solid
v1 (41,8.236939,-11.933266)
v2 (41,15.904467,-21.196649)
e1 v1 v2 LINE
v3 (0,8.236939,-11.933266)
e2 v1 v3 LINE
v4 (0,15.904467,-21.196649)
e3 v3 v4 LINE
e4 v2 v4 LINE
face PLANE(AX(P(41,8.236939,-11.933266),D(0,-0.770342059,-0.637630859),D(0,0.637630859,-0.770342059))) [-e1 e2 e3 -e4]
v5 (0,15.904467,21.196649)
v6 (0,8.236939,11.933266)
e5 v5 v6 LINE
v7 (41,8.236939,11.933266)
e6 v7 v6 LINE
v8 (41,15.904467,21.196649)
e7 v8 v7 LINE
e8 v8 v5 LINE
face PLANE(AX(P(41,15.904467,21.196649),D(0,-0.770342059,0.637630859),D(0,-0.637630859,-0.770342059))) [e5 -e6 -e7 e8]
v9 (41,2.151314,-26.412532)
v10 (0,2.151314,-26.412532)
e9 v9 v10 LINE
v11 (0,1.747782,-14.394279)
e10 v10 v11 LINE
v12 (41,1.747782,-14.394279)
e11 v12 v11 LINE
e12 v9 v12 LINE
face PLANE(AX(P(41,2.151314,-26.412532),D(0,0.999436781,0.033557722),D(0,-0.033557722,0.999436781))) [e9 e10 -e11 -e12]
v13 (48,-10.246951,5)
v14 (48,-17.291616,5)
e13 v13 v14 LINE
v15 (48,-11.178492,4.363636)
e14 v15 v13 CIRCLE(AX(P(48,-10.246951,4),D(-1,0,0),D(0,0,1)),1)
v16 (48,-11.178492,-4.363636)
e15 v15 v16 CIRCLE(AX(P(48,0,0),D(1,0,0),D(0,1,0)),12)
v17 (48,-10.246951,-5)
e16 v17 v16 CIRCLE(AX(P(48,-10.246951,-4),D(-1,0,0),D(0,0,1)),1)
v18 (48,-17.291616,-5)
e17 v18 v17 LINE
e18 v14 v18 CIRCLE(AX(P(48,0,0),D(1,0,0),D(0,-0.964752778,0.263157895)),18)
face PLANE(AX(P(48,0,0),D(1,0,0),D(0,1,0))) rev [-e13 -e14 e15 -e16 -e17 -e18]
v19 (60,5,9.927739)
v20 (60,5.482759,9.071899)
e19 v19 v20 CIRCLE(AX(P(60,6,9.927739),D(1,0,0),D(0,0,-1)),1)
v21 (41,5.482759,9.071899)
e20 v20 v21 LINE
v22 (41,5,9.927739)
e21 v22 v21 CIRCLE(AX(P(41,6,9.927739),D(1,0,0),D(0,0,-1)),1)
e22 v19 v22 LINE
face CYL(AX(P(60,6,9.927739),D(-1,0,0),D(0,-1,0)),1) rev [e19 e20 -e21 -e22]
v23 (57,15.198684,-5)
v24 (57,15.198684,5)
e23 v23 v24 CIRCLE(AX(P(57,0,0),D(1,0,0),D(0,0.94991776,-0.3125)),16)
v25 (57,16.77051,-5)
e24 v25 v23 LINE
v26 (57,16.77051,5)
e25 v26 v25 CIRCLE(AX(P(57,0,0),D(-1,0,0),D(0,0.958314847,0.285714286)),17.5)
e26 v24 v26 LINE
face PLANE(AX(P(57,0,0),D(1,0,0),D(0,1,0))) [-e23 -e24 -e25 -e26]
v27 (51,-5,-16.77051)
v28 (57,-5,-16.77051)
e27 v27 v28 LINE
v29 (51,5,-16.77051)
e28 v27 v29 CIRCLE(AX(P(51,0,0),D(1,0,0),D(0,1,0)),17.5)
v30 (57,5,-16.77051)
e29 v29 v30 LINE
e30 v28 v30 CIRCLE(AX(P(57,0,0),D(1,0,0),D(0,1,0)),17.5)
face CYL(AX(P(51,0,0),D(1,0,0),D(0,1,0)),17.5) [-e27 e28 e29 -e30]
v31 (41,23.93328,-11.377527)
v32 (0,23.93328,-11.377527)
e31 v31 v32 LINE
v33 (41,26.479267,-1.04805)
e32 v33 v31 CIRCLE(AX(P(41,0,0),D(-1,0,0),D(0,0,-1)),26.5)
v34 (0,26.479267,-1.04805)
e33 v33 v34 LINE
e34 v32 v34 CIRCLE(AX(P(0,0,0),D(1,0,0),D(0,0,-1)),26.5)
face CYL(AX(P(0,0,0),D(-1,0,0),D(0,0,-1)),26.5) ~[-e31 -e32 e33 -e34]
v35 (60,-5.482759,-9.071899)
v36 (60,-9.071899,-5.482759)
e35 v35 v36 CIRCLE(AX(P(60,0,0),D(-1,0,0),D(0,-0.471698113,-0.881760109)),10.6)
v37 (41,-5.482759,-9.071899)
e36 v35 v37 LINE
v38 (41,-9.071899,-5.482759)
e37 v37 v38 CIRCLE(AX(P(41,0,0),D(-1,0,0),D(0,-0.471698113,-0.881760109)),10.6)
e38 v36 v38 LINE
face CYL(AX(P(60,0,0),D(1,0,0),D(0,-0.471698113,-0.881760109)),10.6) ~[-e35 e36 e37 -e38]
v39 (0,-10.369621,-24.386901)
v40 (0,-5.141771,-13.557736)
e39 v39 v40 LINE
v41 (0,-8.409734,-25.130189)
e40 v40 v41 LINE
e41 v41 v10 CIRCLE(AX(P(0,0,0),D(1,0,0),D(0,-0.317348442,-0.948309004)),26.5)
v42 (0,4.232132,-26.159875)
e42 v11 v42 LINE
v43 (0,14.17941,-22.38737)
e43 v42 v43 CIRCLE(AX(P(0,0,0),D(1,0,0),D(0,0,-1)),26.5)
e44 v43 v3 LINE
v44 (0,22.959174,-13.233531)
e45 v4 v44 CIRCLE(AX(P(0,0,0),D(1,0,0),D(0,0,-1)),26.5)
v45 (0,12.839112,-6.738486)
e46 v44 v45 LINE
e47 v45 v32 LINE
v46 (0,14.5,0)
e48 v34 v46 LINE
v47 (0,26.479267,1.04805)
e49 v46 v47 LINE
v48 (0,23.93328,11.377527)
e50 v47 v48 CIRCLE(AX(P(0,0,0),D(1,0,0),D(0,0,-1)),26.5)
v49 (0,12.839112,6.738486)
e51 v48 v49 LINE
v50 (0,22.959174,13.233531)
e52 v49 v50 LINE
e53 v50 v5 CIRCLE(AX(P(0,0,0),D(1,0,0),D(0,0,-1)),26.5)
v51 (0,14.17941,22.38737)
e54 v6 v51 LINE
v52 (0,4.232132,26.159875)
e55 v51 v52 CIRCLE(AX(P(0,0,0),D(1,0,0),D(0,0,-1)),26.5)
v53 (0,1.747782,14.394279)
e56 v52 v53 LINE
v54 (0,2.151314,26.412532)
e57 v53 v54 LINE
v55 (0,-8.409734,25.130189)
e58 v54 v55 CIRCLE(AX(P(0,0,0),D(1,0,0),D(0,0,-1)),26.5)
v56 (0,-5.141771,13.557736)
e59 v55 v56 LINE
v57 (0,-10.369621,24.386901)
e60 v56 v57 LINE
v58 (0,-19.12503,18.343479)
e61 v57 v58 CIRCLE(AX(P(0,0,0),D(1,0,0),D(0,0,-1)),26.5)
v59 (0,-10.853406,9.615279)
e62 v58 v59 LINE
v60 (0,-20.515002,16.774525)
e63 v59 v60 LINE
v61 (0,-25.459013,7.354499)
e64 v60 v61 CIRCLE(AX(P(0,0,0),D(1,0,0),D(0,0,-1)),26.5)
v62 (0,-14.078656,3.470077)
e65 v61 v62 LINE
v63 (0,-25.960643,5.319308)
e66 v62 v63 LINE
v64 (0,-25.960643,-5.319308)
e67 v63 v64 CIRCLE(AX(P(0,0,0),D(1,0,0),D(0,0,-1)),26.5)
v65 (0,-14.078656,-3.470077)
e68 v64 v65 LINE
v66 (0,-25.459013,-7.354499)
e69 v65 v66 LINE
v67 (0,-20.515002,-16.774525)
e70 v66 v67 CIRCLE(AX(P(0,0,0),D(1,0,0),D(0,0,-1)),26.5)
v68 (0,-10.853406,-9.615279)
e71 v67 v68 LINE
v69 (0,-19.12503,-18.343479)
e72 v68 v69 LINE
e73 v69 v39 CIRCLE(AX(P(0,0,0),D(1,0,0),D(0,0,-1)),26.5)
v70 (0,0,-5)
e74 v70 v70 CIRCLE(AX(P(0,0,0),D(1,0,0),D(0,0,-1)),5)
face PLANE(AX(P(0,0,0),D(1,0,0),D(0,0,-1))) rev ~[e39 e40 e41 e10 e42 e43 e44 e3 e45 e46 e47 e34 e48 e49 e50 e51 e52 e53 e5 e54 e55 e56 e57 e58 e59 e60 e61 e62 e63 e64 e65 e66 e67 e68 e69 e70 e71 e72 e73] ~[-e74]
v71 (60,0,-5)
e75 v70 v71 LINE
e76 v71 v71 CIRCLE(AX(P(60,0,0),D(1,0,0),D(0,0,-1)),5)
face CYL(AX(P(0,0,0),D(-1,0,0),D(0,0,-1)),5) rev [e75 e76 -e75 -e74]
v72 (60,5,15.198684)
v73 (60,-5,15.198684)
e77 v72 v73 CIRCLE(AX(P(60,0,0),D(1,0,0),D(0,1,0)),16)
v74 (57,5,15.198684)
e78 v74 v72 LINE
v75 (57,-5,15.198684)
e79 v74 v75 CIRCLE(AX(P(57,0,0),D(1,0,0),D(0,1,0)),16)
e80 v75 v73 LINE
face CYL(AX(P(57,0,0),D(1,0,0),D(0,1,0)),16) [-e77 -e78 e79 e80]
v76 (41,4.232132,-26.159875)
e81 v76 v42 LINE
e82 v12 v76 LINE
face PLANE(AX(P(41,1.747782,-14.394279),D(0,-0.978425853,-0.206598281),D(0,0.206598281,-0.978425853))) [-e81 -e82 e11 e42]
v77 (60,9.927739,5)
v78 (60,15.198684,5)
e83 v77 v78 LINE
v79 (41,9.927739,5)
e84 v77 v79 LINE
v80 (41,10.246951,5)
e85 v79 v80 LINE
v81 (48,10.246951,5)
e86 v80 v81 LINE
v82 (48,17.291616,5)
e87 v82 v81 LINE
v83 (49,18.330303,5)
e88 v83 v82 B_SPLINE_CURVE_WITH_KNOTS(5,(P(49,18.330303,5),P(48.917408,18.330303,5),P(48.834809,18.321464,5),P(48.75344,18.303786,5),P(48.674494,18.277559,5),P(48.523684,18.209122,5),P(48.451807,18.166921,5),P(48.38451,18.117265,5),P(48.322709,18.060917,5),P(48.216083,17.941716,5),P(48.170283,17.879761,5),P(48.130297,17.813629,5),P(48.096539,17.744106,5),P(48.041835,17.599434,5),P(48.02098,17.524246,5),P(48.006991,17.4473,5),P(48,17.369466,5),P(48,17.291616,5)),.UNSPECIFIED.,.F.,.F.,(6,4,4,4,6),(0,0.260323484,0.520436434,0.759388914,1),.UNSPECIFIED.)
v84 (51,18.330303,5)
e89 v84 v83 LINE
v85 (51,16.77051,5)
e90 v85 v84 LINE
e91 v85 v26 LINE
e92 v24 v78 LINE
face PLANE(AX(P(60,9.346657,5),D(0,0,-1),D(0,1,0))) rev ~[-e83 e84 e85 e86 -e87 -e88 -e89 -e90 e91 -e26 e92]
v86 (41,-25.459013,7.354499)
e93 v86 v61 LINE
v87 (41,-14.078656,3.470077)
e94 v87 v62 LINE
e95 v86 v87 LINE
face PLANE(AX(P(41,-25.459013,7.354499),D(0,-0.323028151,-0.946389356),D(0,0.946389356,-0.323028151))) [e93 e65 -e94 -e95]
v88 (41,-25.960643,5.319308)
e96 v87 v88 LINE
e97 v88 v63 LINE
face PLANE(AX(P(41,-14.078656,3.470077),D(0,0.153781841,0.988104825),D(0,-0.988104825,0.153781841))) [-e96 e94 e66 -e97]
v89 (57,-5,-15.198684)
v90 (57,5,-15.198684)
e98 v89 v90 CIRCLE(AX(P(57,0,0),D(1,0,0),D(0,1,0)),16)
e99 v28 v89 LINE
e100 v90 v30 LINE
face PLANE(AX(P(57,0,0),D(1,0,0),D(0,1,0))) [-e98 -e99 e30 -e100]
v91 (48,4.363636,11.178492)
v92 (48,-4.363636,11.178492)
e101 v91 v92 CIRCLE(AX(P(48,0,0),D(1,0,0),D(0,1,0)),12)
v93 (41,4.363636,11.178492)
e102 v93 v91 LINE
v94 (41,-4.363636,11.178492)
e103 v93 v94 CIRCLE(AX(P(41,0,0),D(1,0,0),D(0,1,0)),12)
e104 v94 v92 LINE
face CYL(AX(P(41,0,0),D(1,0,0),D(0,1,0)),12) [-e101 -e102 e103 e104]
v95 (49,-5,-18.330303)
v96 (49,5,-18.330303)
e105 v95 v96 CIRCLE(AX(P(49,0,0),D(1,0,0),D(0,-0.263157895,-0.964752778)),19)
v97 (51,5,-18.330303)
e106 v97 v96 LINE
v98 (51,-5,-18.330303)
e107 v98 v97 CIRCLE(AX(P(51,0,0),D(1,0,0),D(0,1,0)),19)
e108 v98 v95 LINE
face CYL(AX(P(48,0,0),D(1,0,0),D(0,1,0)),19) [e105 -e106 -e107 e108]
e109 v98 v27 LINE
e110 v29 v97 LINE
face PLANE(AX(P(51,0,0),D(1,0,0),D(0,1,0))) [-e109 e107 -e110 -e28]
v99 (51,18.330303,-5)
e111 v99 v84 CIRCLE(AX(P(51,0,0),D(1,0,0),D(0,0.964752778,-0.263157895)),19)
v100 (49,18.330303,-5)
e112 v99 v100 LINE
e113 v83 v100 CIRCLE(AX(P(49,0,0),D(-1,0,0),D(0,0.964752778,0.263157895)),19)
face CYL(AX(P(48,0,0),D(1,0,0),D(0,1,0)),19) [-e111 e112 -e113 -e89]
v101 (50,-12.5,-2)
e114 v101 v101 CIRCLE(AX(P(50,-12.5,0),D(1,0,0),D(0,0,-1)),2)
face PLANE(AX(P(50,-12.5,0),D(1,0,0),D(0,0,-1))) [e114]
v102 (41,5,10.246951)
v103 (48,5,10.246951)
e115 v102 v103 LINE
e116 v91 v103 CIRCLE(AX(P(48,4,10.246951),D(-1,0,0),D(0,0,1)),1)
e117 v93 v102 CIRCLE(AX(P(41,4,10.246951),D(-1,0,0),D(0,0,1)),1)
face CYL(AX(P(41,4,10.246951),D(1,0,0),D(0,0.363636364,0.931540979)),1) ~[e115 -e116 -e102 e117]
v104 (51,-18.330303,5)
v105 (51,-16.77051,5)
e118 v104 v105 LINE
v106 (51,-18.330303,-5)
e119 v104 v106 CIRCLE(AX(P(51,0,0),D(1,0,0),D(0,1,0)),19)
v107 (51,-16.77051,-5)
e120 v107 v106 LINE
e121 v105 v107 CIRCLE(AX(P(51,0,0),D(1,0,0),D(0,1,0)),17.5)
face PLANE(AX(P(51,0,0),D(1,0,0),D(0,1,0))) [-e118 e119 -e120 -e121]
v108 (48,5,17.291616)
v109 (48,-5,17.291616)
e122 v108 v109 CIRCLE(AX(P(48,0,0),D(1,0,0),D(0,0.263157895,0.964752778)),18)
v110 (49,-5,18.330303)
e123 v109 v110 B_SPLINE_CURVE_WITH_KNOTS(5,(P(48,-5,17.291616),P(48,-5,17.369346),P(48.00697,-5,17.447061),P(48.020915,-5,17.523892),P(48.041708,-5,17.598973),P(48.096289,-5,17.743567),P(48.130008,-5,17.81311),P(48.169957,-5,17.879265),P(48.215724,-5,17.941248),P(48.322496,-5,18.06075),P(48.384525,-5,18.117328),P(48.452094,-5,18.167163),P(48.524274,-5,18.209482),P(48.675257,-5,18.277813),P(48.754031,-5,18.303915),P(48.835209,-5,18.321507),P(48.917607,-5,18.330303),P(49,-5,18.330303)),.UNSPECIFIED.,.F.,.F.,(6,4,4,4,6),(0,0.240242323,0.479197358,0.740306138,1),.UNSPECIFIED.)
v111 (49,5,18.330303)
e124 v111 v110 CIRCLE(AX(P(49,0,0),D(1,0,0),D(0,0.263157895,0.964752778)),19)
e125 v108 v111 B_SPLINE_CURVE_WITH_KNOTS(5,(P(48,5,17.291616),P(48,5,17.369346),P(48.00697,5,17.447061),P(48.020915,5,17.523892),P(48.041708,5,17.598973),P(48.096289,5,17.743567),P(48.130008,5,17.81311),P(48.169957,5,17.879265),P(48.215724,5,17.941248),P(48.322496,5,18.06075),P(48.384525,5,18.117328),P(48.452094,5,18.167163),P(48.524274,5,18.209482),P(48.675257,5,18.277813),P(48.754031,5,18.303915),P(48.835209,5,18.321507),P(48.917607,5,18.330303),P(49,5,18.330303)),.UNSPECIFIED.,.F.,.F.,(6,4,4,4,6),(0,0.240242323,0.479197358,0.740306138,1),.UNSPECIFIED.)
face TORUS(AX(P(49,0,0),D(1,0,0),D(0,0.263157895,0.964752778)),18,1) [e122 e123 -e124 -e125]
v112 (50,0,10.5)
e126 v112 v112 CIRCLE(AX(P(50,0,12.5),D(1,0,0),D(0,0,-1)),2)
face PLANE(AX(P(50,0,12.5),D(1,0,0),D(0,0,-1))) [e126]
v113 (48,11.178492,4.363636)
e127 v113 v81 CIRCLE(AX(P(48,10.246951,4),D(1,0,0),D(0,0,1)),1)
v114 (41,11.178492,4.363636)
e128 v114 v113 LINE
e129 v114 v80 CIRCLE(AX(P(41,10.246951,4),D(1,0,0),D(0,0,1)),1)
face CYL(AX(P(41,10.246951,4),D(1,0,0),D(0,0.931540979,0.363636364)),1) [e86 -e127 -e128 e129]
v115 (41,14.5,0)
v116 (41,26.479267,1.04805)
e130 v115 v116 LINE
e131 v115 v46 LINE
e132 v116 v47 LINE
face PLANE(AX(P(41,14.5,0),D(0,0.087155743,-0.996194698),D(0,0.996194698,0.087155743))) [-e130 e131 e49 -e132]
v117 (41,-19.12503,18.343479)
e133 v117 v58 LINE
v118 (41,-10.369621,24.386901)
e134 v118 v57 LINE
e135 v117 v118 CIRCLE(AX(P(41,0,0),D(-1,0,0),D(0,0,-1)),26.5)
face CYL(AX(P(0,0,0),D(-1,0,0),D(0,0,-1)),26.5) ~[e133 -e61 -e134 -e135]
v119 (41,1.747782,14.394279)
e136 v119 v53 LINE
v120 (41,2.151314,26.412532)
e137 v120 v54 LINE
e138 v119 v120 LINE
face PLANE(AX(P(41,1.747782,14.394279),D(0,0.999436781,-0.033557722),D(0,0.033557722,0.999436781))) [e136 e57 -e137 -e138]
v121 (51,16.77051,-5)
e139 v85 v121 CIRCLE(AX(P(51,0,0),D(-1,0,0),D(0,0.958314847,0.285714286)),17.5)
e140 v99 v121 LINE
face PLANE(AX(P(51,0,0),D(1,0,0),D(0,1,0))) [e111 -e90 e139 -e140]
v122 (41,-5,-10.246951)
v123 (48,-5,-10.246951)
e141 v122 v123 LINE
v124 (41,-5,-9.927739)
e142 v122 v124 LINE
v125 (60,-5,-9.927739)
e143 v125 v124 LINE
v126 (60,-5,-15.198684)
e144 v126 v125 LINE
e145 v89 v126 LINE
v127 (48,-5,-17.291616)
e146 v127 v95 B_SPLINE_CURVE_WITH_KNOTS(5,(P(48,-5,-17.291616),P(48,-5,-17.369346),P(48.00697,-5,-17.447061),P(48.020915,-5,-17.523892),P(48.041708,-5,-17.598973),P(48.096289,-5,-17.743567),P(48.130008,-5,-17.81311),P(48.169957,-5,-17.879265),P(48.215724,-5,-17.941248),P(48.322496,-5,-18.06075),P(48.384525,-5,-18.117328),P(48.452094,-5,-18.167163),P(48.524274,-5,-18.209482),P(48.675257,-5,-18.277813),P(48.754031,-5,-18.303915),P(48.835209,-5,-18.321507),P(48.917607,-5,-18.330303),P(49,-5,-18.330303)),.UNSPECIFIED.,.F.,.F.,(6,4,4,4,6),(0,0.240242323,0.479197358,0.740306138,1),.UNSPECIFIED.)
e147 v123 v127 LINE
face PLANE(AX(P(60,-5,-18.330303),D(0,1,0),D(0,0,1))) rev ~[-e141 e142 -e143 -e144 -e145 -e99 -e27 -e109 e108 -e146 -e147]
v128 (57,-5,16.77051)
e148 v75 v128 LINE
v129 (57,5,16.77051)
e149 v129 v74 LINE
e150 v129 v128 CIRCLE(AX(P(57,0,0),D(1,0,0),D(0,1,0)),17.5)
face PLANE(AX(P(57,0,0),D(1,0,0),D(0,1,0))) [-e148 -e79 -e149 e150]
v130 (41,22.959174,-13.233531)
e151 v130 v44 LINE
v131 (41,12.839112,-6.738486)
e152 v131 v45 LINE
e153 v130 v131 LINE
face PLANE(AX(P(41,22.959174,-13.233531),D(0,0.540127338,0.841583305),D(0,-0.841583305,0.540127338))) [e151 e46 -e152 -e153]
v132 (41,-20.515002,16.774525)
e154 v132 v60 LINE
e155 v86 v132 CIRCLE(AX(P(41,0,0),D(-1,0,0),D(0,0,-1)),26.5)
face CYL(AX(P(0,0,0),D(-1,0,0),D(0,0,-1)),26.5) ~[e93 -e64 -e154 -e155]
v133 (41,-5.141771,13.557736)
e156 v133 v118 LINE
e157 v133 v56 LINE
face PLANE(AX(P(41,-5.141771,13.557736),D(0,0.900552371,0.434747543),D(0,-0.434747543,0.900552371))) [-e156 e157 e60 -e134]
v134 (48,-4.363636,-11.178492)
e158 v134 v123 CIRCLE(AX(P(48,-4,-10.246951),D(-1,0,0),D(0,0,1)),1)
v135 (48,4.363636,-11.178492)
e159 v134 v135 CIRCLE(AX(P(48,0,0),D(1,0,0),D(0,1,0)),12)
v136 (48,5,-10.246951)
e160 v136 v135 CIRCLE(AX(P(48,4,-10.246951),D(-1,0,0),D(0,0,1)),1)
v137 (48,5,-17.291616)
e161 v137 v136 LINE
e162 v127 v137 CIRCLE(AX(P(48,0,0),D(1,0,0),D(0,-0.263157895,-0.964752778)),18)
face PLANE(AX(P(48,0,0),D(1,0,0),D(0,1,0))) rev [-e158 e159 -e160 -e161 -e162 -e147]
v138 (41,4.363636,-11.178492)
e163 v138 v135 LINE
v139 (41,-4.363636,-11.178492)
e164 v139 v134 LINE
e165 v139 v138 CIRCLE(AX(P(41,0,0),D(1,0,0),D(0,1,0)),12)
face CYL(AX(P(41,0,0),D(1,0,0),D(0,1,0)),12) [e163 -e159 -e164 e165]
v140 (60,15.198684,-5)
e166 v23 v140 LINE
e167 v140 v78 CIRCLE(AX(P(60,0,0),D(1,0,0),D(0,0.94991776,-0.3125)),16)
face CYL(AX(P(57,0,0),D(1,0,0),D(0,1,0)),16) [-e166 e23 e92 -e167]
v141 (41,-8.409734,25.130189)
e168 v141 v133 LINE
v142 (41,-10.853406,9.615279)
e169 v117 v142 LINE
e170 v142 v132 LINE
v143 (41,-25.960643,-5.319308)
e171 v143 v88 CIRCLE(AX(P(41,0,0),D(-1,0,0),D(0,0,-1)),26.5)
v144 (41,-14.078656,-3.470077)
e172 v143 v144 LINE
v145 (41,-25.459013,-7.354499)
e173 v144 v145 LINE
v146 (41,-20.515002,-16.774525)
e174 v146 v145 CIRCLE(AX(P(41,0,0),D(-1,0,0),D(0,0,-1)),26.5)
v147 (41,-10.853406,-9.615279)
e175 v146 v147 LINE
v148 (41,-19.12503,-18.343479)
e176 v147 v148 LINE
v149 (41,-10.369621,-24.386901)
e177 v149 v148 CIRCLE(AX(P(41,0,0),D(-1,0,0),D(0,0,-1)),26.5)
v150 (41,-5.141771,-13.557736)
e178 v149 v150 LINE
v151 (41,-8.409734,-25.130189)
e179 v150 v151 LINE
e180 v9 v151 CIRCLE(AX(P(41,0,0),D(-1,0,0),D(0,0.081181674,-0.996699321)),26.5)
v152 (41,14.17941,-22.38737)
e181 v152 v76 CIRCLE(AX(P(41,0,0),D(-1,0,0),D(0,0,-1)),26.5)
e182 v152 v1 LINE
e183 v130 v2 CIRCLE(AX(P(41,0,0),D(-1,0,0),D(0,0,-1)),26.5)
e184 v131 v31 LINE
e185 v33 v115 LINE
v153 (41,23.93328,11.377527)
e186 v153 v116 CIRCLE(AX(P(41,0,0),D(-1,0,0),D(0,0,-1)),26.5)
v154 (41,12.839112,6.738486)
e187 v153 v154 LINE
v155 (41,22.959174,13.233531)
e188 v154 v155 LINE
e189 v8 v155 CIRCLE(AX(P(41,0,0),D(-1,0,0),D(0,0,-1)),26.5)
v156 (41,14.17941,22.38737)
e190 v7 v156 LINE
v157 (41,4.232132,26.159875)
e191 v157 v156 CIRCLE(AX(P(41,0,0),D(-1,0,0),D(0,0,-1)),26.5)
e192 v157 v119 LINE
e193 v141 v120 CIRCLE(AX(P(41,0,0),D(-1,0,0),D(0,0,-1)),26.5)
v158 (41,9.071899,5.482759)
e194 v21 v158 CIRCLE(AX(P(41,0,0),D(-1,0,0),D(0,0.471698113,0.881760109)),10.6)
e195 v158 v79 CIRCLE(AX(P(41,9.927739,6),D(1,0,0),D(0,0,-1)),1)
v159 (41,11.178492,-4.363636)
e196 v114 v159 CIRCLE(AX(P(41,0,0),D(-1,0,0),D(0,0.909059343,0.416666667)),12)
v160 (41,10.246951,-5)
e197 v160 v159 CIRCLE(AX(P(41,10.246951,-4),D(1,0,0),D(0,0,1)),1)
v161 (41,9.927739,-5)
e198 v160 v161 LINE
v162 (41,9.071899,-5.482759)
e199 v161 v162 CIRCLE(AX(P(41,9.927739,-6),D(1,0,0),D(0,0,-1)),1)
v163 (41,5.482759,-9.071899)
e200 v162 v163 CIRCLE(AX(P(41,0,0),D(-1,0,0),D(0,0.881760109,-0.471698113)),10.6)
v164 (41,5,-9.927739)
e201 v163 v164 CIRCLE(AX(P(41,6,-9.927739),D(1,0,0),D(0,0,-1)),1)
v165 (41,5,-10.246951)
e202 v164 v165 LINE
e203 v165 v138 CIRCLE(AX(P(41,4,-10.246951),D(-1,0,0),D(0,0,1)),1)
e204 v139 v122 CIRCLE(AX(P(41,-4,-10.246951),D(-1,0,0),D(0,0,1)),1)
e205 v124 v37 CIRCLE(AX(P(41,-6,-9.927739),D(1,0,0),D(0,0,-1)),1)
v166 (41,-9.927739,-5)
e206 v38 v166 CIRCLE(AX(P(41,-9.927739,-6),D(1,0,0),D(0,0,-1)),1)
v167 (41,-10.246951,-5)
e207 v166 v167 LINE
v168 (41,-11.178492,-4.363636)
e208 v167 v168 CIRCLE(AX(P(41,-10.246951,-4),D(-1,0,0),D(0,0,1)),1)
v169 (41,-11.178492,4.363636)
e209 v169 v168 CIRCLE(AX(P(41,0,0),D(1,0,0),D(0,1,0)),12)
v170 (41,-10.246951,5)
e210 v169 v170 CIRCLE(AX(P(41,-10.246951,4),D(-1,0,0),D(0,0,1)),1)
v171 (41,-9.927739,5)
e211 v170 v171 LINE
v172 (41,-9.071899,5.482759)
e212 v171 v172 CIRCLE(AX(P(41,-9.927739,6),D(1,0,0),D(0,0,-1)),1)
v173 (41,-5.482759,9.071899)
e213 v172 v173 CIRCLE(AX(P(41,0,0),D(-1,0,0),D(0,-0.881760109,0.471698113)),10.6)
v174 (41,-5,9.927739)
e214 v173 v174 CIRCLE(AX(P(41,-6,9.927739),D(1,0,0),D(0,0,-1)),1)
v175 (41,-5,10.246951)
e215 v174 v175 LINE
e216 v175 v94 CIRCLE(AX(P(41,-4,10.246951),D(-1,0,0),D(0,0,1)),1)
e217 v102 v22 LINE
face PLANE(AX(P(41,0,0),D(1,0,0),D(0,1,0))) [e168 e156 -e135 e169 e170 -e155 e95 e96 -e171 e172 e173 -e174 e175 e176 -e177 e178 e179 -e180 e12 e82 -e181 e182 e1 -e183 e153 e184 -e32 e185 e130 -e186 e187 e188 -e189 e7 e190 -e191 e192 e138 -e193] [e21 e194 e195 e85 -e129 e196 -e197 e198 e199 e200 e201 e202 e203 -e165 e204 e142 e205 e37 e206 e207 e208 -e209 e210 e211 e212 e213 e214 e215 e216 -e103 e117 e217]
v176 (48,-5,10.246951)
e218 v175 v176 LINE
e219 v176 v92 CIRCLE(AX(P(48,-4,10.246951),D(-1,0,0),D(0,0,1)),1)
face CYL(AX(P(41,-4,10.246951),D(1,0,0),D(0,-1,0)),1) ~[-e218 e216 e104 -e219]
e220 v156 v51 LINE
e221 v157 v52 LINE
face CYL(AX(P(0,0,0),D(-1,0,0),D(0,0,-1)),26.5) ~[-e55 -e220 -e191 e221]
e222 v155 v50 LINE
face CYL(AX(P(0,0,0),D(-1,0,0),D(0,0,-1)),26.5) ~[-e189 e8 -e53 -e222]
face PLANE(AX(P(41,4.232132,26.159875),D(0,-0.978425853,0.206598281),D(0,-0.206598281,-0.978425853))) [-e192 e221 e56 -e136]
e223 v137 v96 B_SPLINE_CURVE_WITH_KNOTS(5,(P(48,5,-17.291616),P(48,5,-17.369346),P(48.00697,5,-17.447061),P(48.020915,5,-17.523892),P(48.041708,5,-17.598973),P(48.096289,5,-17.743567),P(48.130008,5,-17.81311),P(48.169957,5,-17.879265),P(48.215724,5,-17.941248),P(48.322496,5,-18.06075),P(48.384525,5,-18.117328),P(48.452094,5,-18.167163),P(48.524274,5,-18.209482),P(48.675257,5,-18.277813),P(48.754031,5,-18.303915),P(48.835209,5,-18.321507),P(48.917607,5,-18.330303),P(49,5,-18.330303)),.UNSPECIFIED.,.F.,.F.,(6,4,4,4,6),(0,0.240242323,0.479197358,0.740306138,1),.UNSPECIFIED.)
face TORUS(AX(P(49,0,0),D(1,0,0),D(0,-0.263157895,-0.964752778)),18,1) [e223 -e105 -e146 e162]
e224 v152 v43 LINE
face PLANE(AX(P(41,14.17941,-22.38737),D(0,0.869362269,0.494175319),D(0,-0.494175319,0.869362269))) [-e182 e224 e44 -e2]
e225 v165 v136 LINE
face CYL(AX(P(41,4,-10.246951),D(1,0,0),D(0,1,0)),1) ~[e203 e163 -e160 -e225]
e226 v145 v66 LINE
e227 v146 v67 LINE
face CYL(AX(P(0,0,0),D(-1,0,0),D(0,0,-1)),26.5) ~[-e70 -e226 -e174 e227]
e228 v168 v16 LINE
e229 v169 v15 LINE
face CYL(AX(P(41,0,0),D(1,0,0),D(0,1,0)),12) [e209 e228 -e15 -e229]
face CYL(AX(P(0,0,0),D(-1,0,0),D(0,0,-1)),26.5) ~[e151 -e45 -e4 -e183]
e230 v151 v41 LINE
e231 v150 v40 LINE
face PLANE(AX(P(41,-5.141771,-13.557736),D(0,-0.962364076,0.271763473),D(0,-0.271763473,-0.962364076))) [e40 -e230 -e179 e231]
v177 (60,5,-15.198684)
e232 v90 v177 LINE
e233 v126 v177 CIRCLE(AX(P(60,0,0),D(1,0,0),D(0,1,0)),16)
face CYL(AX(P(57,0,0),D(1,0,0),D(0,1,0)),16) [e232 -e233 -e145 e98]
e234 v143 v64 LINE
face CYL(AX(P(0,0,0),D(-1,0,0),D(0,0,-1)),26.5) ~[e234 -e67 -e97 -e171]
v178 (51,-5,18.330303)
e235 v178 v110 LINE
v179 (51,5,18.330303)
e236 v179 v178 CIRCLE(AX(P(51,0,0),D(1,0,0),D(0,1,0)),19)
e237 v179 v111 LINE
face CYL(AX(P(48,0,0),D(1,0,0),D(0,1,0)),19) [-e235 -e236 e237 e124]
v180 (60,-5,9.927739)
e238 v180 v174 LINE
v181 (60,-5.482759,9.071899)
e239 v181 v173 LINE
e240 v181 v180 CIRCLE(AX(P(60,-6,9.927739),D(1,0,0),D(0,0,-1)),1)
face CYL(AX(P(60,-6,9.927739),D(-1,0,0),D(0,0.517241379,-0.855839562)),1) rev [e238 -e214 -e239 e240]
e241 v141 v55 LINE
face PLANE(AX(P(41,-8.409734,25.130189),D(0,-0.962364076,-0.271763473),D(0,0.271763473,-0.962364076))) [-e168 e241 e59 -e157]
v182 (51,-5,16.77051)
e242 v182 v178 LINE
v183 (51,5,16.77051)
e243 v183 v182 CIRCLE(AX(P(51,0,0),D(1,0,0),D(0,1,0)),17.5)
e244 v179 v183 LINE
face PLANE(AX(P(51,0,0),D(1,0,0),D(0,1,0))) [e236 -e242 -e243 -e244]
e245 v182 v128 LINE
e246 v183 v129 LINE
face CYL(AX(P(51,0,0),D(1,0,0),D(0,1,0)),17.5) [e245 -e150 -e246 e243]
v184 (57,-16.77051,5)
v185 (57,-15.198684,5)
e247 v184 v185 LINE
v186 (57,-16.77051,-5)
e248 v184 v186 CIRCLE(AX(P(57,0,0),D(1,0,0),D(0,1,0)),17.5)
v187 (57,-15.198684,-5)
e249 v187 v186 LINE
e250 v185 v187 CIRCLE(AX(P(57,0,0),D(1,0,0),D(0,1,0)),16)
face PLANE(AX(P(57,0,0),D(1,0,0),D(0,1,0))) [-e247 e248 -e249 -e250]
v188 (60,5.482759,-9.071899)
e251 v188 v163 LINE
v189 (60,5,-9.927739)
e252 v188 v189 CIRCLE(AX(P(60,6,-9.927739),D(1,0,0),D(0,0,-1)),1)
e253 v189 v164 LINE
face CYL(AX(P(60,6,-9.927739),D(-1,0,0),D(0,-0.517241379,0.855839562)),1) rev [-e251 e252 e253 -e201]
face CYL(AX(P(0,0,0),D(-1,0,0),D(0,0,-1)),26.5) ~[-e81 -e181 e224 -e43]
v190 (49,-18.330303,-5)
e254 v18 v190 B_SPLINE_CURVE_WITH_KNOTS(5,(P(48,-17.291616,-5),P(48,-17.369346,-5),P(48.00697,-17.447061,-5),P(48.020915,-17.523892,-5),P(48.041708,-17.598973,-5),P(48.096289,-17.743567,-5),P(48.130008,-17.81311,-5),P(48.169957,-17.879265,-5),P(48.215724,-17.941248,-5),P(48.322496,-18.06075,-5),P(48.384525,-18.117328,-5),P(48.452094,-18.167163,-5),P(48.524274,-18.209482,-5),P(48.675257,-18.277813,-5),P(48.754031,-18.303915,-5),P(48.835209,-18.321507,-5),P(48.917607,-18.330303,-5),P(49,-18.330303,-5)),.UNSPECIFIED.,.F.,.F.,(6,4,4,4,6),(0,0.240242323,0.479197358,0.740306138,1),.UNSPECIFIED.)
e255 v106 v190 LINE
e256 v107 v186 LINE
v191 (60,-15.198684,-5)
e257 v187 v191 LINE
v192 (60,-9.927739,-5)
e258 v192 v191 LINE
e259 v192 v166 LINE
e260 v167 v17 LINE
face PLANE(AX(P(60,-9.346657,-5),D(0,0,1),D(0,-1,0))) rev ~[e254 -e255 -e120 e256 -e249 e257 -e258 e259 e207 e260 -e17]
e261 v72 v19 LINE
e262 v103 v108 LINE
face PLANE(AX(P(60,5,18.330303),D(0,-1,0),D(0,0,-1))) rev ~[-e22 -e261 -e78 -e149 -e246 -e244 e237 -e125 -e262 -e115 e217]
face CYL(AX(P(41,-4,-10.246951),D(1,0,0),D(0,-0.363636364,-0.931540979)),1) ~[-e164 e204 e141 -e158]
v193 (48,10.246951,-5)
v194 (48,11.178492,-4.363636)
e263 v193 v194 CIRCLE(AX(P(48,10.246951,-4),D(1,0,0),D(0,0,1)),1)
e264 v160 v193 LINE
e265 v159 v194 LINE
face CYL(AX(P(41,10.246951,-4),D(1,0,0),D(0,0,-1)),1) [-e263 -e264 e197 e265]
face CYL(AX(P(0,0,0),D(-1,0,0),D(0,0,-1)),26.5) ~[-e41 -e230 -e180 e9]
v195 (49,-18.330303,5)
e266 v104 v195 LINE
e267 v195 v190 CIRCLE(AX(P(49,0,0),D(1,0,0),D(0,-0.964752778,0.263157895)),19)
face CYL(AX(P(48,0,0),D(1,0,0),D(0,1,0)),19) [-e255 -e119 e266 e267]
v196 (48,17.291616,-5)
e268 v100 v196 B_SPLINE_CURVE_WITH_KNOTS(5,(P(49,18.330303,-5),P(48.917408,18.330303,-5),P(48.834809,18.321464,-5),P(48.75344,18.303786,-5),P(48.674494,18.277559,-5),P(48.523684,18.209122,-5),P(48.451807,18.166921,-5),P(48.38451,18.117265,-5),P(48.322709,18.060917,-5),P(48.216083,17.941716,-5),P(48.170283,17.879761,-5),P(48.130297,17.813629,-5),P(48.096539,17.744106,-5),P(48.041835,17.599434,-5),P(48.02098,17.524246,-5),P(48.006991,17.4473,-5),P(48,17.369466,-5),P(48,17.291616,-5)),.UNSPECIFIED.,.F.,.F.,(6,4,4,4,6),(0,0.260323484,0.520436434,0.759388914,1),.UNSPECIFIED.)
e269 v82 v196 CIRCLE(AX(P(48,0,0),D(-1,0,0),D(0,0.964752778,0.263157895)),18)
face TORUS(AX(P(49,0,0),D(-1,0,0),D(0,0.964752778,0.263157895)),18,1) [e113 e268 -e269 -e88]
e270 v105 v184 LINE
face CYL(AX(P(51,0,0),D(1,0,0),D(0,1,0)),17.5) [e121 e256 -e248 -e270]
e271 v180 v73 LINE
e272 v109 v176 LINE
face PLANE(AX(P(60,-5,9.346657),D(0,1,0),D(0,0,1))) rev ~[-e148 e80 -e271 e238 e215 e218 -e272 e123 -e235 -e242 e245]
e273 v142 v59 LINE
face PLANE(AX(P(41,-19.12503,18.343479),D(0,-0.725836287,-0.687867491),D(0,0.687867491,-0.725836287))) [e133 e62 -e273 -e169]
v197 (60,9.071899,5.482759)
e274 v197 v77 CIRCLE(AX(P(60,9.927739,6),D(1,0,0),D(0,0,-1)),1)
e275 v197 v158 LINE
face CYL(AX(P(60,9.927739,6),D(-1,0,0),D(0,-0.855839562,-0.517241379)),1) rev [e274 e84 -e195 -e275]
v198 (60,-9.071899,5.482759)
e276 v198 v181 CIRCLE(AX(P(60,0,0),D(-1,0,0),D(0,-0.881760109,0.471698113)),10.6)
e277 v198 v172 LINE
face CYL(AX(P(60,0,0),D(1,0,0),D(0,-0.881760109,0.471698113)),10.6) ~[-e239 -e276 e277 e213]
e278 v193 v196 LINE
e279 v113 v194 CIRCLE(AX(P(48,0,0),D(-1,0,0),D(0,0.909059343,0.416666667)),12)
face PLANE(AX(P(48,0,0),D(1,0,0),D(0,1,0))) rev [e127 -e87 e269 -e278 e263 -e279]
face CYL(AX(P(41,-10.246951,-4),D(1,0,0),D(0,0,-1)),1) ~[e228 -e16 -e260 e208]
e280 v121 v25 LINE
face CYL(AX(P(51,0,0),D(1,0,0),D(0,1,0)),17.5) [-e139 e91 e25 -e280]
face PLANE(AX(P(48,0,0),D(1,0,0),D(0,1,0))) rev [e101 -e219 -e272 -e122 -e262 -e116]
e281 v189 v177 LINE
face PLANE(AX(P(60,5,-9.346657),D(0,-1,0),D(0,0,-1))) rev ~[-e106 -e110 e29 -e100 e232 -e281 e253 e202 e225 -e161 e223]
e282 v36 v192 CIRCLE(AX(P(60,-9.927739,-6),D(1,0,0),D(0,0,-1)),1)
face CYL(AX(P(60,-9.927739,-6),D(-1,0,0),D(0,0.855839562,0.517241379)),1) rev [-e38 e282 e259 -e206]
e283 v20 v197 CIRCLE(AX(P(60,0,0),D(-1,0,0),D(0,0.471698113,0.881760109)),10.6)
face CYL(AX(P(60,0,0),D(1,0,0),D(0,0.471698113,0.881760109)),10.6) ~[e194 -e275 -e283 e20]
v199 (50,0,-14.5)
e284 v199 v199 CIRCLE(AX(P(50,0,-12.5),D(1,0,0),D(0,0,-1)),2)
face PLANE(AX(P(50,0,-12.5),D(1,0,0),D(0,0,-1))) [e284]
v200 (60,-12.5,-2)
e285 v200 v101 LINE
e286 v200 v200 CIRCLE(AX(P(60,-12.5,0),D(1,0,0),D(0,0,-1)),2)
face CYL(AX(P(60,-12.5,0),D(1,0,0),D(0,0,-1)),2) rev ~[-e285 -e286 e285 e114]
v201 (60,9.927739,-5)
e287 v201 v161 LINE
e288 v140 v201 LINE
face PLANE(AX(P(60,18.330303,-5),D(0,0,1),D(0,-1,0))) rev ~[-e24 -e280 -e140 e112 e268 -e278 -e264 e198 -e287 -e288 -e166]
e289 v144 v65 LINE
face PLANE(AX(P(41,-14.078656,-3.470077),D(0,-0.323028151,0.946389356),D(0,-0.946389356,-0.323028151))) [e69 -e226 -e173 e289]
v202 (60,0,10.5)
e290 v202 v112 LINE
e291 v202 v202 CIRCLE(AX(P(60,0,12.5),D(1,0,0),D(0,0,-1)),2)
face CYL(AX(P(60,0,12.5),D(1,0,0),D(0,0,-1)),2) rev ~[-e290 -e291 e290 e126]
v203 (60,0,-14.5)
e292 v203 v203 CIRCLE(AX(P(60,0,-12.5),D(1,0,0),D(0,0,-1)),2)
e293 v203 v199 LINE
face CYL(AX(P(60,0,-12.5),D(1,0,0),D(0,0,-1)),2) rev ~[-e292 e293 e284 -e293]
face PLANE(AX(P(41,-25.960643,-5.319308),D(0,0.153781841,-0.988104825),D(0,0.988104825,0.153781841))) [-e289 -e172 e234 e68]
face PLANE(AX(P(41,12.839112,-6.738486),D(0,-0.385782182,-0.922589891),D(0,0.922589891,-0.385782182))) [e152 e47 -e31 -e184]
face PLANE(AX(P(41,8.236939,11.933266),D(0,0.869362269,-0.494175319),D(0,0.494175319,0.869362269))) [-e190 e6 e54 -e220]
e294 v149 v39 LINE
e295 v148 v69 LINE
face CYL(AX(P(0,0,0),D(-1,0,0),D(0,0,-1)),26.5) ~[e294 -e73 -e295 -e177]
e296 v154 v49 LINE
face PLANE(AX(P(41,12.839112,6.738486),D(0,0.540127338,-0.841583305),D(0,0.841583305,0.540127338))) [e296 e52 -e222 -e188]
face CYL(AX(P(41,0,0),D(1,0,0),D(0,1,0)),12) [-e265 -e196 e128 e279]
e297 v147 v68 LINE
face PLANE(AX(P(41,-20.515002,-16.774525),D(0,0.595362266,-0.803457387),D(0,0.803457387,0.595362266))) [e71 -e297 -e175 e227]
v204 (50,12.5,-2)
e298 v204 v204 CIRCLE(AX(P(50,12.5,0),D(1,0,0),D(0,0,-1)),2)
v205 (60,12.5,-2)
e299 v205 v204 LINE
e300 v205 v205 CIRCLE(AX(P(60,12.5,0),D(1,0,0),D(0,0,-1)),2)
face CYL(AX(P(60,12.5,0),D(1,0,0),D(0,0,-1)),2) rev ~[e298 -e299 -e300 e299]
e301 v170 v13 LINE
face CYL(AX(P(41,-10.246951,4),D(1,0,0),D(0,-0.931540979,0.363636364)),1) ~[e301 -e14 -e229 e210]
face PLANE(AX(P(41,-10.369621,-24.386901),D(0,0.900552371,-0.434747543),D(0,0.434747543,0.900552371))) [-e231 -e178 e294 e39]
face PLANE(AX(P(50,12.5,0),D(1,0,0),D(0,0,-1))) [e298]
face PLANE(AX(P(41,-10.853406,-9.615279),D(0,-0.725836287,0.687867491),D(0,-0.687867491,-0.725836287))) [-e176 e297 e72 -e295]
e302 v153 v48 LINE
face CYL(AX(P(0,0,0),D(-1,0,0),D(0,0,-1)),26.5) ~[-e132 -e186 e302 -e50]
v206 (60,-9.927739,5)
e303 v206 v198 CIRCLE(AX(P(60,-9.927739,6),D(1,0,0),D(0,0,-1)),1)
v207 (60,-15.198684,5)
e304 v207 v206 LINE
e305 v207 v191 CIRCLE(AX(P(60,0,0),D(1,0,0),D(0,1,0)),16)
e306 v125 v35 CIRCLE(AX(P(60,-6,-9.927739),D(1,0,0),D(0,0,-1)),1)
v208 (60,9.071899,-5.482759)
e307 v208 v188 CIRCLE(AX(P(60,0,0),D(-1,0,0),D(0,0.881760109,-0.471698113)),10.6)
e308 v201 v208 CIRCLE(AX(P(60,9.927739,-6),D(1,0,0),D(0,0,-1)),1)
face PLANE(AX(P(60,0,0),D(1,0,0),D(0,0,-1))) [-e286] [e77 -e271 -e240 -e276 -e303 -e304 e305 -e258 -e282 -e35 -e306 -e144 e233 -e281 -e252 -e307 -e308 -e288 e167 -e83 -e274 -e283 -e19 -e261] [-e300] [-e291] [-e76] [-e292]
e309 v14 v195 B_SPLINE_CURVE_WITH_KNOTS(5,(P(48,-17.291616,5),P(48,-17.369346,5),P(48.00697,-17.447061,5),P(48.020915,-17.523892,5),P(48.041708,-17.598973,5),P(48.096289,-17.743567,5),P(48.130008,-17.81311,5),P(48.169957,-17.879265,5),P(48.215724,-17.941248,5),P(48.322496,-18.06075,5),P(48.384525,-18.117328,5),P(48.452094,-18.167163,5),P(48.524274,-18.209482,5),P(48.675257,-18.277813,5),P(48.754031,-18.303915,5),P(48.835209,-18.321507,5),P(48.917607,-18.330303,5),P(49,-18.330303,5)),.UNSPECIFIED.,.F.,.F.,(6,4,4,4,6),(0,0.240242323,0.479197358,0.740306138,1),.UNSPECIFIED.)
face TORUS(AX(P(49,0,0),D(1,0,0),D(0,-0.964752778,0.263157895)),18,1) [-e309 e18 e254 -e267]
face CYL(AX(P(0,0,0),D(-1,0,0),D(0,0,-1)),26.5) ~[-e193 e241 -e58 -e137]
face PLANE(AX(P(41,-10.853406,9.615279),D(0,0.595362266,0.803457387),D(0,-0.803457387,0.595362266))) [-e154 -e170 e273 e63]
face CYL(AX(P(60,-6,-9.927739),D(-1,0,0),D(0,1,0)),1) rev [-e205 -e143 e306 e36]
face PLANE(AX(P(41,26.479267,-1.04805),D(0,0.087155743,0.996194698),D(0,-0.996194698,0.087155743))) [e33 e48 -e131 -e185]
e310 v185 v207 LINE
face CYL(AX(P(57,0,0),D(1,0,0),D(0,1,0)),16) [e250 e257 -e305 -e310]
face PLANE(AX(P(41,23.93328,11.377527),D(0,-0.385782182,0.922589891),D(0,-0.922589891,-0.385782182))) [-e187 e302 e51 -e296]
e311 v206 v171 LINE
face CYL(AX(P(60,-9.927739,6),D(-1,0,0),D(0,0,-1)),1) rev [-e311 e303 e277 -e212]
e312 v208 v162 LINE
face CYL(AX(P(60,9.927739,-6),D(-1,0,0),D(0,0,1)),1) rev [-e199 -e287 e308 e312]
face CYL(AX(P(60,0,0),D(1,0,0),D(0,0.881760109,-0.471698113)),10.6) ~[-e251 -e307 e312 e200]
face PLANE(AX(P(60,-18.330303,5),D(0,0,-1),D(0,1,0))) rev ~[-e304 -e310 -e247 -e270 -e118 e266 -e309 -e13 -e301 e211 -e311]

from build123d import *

# Parameters (mm, degrees)
SKETCH1_R      = 26.5
SKETCH1_R_2    = 5
EXTRUDE1_DEPTH = 60
SKETCH3_R      = 2
EXTRUDE2_DEPTH = 10
EXTRUDE3_START = -41
EXTRUDE3_DEPTH = 41
EXTRUDE4_DEPTH = 19
FILLET1_R      = 1


with BuildPart() as part:
    # Sketch1 → Extrude1 (new body)
    with BuildSketch(Plane(origin=(0, 0, 0), x_dir=(0, 0, -1), z_dir=(1, 0, 0))):
        Circle(SKETCH1_R)
        Circle(SKETCH1_R_2, mode=Mode.SUBTRACT)
    extrude(amount=EXTRUDE1_DEPTH)

    # Sketch2 → Cut-Revolve1 (revolve, cut)
    with BuildSketch(Plane.XY):
        Polygon((60, 16), (60, 26.5), (41, 26.5), (41, 12), (48, 12), (48, 19), (51, 19), (51, 17.5), (57, 17.5), (57, 16), align=None)
    revolve(axis=Axis((0, 0, 0), (1, 0, 0)), mode=Mode.SUBTRACT)

    # Sketch3 → Extrude2 (cut)
    with BuildSketch(Plane(origin=(60, 0, 0), x_dir=(0, 0, -1), z_dir=(1, 0, 0))):
        with Locations((0, 12.5)):
            Circle(SKETCH3_R)
        with Locations((12.5, 0)):
            Circle(SKETCH3_R)
        with Locations((0, -12.5)):
            Circle(SKETCH3_R)
        with Locations((-12.5, 0)):
            Circle(SKETCH3_R)
    extrude(amount=-EXTRUDE2_DEPTH, mode=Mode.SUBTRACT)

    # Sketch4 → Extrude3 (cut)
    with BuildSketch(Plane.ZY.offset(EXTRUDE3_START)):
        with BuildLine():
            Line((0, 14.5), (1.048050077, 26.479267192))
            ThreePointArc((1.048050077, 26.479267192), (0, 26.5), (-1.048050077, 26.479267192))
            Line((-1.048050077, 26.479267192), (0, 14.5))
        make_face()
        with BuildLine():
            Line((11.377526787, 23.933279846), (6.738485995, 12.839112372))
            Line((6.738485995, 12.839112372), (13.233531299, 22.959173534))
            ThreePointArc((13.233531299, 22.959173534), (12.315164059, 23.46458468), (11.377526787, 23.933279846))
        make_face()
        with BuildLine():
            Line((-6.738485995, 12.839112372), (-11.377526787, 23.933279846))
            ThreePointArc((-11.377526787, 23.933279846), (-12.315164059, 23.46458468), (-13.233531299, 22.959173534))
            Line((-13.233531299, 22.959173534), (-6.738485995, 12.839112372))
        make_face()
        with BuildLine():
            Line((21.196649379, 15.904466515), (11.933266055, 8.236938828))
            Line((11.933266055, 8.236938828), (22.387369981, 14.179409907))
            ThreePointArc((22.387369981, 14.179409907), (21.809072446, 15.053715788), (21.196649379, 15.904466515))
        make_face()
        with BuildLine():
            Line((-11.933266055, 8.236938828), (-21.196649379, 15.904466515))
            ThreePointArc((-21.196649379, 15.904466515), (-21.809072446, 15.053715788), (-22.387369981, 14.179409907))
            Line((-22.387369981, 14.179409907), (-11.933266055, 8.236938828))
        make_face()
        with BuildLine():
            Line((26.159875044, 4.232131575), (14.394278674, 1.747781864))
            Line((14.394278674, 1.747781864), (26.412531998, 2.151314351))
            ThreePointArc((26.412531998, 2.151314351), (26.306785164, 3.194222027), (26.159875044, 4.232131575))
        make_face()
        with BuildLine():
            Line((-14.394278674, 1.747781864), (-26.159875044, 4.232131575))
            ThreePointArc((-26.159875044, 4.232131575), (-26.306785164, 3.194222027), (-26.412531998, 2.151314351))
            Line((-26.412531998, 2.151314351), (-14.394278674, 1.747781864))
        make_face()
        with BuildLine():
            Line((25.130188598, -8.409733707), (13.557735519, -5.141770862))
            Line((13.557735519, -5.141770862), (24.38690124, -10.369621396))
            ThreePointArc((24.38690124, -10.369621396), (24.777930431, -9.397029507), (25.130188598, -8.409733707))
        make_face()
        with BuildLine():
            Line((-13.557735519, -5.141770862), (-25.130188598, -8.409733707))
            ThreePointArc((-25.130188598, -8.409733707), (-24.777930431, -9.397029507), (-24.38690124, -10.369621396))
            Line((-24.38690124, -10.369621396), (-13.557735519, -5.141770862))
        make_face()
        with BuildLine():
            Line((18.343478796, -19.125030344), (9.615278544, -10.853405848))
            Line((9.615278544, -10.853405848), (16.774525302, -20.51500185))
            ThreePointArc((16.774525302, -20.51500185), (17.572750443, -19.835534827), (18.343478796, -19.125030344))
        make_face()
        with BuildLine():
            Line((-9.615278544, -10.853405848), (-18.343478796, -19.125030344))
            ThreePointArc((-18.343478796, -19.125030344), (-17.572750443, -19.835534827), (-16.774525302, -20.51500185))
            Line((-16.774525302, -20.51500185), (-9.615278544, -10.853405848))
        make_face()
        with BuildLine():
            Line((7.354499064, -25.459013011), (3.470077132, -14.078656353))
            Line((3.470077132, -14.078656353), (5.319307772, -25.960642612))
            ThreePointArc((5.319307772, -25.960642612), (6.341865104, -25.729958162), (7.354499064, -25.459013011))
        make_face()
        with BuildLine():
            Line((-3.470077132, -14.078656353), (-7.354499064, -25.459013011))
            ThreePointArc((-7.354499064, -25.459013011), (-6.341865104, -25.729958162), (-5.319307772, -25.960642612))
            Line((-5.319307772, -25.960642612), (-3.470077132, -14.078656353))
        make_face()
    extrude(amount=EXTRUDE3_DEPTH, mode=Mode.SUBTRACT)

    # Sketch5 → Extrude4 (cut)
    with BuildSketch(Plane(origin=(60, 0, 0), x_dir=(0, 0, -1), z_dir=(1, 0, 0))):
        with BuildLine():
            Line((-5, 9.346657156), (-5, 15.198684154))
            ThreePointArc((-5, 15.198684154), (-11.313708499, 11.313708499), (-15.198684154, 5))
            Line((-15.198684154, 5), (-9.346657156, 5))
            ThreePointArc((-9.346657156, 5), (-7.495331881, 7.495331881), (-5, 9.346657156))
        make_face()
        with BuildLine():
            Line((-5, 15.198684154), (-5, 18.33030278))
            ThreePointArc((-5, 18.33030278), (-13.435028843, 13.435028843), (-18.33030278, 5))
            Line((-18.33030278, 5), (-15.198684154, 5))
            ThreePointArc((-15.198684154, 5), (-11.313708499, 11.313708499), (-5, 15.198684154))
        make_face()
        with BuildLine():
            ThreePointArc((15.198684154, 5), (11.313708499, 11.313708499), (5, 15.198684154))
            Line((5, 15.198684154), (5, 9.346657156))
            ThreePointArc((5, 9.346657156), (7.495331881, 7.495331881), (9.346657156, 5))
            Line((9.346657156, 5), (15.198684154, 5))
        make_face()
        with BuildLine():
            ThreePointArc((18.33030278, 5), (13.435028843, 13.435028843), (5, 18.33030278))
            Line((5, 18.33030278), (5, 15.198684154))
            ThreePointArc((5, 15.198684154), (11.313708499, 11.313708499), (15.198684154, 5))
            Line((15.198684154, 5), (18.33030278, 5))
        make_face()
        with BuildLine():
            ThreePointArc((5, -15.198684154), (11.313708499, -11.313708499), (15.198684154, -5))
            Line((15.198684154, -5), (9.346657156, -5))
            ThreePointArc((9.346657156, -5), (7.495331881, -7.495331881), (5, -9.346657156))
            Line((5, -9.346657156), (5, -15.198684154))
        make_face()
        with BuildLine():
            ThreePointArc((5, -18.33030278), (13.435028843, -13.435028843), (18.33030278, -5))
            Line((18.33030278, -5), (15.198684154, -5))
            ThreePointArc((15.198684154, -5), (11.313708499, -11.313708499), (5, -15.198684154))
            Line((5, -15.198684154), (5, -18.33030278))
        make_face()
        with BuildLine():
            Line((-9.346657156, -5), (-15.198684154, -5))
            ThreePointArc((-15.198684154, -5), (-11.313708499, -11.313708499), (-5, -15.198684154))
            Line((-5, -15.198684154), (-5, -9.346657156))
            ThreePointArc((-5, -9.346657156), (-7.495331881, -7.495331881), (-9.346657156, -5))
        make_face()
        with BuildLine():
            Line((-15.198684154, -5), (-18.33030278, -5))
            ThreePointArc((-18.33030278, -5), (-13.435028843, -13.435028843), (-5, -18.33030278))
            Line((-5, -18.33030278), (-5, -15.198684154))
            ThreePointArc((-5, -15.198684154), (-11.313708499, -11.313708499), (-15.198684154, -5))
        make_face()
    extrude(amount=-EXTRUDE4_DEPTH, mode=Mode.SUBTRACT)

    # Fillet1
    fillet1_edges = [part.edges().sort_by_distance(p)[0] for p in [
        (48, 19, 0),
        (44.5, 10.908712115, 5),
        (50.5, 5, 9.346657156),
        (44.5, 5, 10.908712115),
        (50.5, 9.346657156, 5),
        (48, 0, -19),
        (44.5, 5, -10.908712115),
        (50.5, 9.346657156, -5),
        (44.5, 10.908712115, -5),
        (50.5, 5, -9.346657156),
        (48, -19, 0),
        (44.5, -10.908712115, -5),
        (50.5, -5, -9.346657156),
        (44.5, -5, -10.908712115),
        (50.5, -9.346657156, -5),
        (48, 0, 19),
        (44.5, -5, 10.908712115),
        (50.5, -9.346657156, 5),
        (44.5, -10.908712115, 5),
        (50.5, -5, 9.346657156),
    ]]
    fillet(fillet1_edges, radius=FILLET1_R)


solid = part.part
